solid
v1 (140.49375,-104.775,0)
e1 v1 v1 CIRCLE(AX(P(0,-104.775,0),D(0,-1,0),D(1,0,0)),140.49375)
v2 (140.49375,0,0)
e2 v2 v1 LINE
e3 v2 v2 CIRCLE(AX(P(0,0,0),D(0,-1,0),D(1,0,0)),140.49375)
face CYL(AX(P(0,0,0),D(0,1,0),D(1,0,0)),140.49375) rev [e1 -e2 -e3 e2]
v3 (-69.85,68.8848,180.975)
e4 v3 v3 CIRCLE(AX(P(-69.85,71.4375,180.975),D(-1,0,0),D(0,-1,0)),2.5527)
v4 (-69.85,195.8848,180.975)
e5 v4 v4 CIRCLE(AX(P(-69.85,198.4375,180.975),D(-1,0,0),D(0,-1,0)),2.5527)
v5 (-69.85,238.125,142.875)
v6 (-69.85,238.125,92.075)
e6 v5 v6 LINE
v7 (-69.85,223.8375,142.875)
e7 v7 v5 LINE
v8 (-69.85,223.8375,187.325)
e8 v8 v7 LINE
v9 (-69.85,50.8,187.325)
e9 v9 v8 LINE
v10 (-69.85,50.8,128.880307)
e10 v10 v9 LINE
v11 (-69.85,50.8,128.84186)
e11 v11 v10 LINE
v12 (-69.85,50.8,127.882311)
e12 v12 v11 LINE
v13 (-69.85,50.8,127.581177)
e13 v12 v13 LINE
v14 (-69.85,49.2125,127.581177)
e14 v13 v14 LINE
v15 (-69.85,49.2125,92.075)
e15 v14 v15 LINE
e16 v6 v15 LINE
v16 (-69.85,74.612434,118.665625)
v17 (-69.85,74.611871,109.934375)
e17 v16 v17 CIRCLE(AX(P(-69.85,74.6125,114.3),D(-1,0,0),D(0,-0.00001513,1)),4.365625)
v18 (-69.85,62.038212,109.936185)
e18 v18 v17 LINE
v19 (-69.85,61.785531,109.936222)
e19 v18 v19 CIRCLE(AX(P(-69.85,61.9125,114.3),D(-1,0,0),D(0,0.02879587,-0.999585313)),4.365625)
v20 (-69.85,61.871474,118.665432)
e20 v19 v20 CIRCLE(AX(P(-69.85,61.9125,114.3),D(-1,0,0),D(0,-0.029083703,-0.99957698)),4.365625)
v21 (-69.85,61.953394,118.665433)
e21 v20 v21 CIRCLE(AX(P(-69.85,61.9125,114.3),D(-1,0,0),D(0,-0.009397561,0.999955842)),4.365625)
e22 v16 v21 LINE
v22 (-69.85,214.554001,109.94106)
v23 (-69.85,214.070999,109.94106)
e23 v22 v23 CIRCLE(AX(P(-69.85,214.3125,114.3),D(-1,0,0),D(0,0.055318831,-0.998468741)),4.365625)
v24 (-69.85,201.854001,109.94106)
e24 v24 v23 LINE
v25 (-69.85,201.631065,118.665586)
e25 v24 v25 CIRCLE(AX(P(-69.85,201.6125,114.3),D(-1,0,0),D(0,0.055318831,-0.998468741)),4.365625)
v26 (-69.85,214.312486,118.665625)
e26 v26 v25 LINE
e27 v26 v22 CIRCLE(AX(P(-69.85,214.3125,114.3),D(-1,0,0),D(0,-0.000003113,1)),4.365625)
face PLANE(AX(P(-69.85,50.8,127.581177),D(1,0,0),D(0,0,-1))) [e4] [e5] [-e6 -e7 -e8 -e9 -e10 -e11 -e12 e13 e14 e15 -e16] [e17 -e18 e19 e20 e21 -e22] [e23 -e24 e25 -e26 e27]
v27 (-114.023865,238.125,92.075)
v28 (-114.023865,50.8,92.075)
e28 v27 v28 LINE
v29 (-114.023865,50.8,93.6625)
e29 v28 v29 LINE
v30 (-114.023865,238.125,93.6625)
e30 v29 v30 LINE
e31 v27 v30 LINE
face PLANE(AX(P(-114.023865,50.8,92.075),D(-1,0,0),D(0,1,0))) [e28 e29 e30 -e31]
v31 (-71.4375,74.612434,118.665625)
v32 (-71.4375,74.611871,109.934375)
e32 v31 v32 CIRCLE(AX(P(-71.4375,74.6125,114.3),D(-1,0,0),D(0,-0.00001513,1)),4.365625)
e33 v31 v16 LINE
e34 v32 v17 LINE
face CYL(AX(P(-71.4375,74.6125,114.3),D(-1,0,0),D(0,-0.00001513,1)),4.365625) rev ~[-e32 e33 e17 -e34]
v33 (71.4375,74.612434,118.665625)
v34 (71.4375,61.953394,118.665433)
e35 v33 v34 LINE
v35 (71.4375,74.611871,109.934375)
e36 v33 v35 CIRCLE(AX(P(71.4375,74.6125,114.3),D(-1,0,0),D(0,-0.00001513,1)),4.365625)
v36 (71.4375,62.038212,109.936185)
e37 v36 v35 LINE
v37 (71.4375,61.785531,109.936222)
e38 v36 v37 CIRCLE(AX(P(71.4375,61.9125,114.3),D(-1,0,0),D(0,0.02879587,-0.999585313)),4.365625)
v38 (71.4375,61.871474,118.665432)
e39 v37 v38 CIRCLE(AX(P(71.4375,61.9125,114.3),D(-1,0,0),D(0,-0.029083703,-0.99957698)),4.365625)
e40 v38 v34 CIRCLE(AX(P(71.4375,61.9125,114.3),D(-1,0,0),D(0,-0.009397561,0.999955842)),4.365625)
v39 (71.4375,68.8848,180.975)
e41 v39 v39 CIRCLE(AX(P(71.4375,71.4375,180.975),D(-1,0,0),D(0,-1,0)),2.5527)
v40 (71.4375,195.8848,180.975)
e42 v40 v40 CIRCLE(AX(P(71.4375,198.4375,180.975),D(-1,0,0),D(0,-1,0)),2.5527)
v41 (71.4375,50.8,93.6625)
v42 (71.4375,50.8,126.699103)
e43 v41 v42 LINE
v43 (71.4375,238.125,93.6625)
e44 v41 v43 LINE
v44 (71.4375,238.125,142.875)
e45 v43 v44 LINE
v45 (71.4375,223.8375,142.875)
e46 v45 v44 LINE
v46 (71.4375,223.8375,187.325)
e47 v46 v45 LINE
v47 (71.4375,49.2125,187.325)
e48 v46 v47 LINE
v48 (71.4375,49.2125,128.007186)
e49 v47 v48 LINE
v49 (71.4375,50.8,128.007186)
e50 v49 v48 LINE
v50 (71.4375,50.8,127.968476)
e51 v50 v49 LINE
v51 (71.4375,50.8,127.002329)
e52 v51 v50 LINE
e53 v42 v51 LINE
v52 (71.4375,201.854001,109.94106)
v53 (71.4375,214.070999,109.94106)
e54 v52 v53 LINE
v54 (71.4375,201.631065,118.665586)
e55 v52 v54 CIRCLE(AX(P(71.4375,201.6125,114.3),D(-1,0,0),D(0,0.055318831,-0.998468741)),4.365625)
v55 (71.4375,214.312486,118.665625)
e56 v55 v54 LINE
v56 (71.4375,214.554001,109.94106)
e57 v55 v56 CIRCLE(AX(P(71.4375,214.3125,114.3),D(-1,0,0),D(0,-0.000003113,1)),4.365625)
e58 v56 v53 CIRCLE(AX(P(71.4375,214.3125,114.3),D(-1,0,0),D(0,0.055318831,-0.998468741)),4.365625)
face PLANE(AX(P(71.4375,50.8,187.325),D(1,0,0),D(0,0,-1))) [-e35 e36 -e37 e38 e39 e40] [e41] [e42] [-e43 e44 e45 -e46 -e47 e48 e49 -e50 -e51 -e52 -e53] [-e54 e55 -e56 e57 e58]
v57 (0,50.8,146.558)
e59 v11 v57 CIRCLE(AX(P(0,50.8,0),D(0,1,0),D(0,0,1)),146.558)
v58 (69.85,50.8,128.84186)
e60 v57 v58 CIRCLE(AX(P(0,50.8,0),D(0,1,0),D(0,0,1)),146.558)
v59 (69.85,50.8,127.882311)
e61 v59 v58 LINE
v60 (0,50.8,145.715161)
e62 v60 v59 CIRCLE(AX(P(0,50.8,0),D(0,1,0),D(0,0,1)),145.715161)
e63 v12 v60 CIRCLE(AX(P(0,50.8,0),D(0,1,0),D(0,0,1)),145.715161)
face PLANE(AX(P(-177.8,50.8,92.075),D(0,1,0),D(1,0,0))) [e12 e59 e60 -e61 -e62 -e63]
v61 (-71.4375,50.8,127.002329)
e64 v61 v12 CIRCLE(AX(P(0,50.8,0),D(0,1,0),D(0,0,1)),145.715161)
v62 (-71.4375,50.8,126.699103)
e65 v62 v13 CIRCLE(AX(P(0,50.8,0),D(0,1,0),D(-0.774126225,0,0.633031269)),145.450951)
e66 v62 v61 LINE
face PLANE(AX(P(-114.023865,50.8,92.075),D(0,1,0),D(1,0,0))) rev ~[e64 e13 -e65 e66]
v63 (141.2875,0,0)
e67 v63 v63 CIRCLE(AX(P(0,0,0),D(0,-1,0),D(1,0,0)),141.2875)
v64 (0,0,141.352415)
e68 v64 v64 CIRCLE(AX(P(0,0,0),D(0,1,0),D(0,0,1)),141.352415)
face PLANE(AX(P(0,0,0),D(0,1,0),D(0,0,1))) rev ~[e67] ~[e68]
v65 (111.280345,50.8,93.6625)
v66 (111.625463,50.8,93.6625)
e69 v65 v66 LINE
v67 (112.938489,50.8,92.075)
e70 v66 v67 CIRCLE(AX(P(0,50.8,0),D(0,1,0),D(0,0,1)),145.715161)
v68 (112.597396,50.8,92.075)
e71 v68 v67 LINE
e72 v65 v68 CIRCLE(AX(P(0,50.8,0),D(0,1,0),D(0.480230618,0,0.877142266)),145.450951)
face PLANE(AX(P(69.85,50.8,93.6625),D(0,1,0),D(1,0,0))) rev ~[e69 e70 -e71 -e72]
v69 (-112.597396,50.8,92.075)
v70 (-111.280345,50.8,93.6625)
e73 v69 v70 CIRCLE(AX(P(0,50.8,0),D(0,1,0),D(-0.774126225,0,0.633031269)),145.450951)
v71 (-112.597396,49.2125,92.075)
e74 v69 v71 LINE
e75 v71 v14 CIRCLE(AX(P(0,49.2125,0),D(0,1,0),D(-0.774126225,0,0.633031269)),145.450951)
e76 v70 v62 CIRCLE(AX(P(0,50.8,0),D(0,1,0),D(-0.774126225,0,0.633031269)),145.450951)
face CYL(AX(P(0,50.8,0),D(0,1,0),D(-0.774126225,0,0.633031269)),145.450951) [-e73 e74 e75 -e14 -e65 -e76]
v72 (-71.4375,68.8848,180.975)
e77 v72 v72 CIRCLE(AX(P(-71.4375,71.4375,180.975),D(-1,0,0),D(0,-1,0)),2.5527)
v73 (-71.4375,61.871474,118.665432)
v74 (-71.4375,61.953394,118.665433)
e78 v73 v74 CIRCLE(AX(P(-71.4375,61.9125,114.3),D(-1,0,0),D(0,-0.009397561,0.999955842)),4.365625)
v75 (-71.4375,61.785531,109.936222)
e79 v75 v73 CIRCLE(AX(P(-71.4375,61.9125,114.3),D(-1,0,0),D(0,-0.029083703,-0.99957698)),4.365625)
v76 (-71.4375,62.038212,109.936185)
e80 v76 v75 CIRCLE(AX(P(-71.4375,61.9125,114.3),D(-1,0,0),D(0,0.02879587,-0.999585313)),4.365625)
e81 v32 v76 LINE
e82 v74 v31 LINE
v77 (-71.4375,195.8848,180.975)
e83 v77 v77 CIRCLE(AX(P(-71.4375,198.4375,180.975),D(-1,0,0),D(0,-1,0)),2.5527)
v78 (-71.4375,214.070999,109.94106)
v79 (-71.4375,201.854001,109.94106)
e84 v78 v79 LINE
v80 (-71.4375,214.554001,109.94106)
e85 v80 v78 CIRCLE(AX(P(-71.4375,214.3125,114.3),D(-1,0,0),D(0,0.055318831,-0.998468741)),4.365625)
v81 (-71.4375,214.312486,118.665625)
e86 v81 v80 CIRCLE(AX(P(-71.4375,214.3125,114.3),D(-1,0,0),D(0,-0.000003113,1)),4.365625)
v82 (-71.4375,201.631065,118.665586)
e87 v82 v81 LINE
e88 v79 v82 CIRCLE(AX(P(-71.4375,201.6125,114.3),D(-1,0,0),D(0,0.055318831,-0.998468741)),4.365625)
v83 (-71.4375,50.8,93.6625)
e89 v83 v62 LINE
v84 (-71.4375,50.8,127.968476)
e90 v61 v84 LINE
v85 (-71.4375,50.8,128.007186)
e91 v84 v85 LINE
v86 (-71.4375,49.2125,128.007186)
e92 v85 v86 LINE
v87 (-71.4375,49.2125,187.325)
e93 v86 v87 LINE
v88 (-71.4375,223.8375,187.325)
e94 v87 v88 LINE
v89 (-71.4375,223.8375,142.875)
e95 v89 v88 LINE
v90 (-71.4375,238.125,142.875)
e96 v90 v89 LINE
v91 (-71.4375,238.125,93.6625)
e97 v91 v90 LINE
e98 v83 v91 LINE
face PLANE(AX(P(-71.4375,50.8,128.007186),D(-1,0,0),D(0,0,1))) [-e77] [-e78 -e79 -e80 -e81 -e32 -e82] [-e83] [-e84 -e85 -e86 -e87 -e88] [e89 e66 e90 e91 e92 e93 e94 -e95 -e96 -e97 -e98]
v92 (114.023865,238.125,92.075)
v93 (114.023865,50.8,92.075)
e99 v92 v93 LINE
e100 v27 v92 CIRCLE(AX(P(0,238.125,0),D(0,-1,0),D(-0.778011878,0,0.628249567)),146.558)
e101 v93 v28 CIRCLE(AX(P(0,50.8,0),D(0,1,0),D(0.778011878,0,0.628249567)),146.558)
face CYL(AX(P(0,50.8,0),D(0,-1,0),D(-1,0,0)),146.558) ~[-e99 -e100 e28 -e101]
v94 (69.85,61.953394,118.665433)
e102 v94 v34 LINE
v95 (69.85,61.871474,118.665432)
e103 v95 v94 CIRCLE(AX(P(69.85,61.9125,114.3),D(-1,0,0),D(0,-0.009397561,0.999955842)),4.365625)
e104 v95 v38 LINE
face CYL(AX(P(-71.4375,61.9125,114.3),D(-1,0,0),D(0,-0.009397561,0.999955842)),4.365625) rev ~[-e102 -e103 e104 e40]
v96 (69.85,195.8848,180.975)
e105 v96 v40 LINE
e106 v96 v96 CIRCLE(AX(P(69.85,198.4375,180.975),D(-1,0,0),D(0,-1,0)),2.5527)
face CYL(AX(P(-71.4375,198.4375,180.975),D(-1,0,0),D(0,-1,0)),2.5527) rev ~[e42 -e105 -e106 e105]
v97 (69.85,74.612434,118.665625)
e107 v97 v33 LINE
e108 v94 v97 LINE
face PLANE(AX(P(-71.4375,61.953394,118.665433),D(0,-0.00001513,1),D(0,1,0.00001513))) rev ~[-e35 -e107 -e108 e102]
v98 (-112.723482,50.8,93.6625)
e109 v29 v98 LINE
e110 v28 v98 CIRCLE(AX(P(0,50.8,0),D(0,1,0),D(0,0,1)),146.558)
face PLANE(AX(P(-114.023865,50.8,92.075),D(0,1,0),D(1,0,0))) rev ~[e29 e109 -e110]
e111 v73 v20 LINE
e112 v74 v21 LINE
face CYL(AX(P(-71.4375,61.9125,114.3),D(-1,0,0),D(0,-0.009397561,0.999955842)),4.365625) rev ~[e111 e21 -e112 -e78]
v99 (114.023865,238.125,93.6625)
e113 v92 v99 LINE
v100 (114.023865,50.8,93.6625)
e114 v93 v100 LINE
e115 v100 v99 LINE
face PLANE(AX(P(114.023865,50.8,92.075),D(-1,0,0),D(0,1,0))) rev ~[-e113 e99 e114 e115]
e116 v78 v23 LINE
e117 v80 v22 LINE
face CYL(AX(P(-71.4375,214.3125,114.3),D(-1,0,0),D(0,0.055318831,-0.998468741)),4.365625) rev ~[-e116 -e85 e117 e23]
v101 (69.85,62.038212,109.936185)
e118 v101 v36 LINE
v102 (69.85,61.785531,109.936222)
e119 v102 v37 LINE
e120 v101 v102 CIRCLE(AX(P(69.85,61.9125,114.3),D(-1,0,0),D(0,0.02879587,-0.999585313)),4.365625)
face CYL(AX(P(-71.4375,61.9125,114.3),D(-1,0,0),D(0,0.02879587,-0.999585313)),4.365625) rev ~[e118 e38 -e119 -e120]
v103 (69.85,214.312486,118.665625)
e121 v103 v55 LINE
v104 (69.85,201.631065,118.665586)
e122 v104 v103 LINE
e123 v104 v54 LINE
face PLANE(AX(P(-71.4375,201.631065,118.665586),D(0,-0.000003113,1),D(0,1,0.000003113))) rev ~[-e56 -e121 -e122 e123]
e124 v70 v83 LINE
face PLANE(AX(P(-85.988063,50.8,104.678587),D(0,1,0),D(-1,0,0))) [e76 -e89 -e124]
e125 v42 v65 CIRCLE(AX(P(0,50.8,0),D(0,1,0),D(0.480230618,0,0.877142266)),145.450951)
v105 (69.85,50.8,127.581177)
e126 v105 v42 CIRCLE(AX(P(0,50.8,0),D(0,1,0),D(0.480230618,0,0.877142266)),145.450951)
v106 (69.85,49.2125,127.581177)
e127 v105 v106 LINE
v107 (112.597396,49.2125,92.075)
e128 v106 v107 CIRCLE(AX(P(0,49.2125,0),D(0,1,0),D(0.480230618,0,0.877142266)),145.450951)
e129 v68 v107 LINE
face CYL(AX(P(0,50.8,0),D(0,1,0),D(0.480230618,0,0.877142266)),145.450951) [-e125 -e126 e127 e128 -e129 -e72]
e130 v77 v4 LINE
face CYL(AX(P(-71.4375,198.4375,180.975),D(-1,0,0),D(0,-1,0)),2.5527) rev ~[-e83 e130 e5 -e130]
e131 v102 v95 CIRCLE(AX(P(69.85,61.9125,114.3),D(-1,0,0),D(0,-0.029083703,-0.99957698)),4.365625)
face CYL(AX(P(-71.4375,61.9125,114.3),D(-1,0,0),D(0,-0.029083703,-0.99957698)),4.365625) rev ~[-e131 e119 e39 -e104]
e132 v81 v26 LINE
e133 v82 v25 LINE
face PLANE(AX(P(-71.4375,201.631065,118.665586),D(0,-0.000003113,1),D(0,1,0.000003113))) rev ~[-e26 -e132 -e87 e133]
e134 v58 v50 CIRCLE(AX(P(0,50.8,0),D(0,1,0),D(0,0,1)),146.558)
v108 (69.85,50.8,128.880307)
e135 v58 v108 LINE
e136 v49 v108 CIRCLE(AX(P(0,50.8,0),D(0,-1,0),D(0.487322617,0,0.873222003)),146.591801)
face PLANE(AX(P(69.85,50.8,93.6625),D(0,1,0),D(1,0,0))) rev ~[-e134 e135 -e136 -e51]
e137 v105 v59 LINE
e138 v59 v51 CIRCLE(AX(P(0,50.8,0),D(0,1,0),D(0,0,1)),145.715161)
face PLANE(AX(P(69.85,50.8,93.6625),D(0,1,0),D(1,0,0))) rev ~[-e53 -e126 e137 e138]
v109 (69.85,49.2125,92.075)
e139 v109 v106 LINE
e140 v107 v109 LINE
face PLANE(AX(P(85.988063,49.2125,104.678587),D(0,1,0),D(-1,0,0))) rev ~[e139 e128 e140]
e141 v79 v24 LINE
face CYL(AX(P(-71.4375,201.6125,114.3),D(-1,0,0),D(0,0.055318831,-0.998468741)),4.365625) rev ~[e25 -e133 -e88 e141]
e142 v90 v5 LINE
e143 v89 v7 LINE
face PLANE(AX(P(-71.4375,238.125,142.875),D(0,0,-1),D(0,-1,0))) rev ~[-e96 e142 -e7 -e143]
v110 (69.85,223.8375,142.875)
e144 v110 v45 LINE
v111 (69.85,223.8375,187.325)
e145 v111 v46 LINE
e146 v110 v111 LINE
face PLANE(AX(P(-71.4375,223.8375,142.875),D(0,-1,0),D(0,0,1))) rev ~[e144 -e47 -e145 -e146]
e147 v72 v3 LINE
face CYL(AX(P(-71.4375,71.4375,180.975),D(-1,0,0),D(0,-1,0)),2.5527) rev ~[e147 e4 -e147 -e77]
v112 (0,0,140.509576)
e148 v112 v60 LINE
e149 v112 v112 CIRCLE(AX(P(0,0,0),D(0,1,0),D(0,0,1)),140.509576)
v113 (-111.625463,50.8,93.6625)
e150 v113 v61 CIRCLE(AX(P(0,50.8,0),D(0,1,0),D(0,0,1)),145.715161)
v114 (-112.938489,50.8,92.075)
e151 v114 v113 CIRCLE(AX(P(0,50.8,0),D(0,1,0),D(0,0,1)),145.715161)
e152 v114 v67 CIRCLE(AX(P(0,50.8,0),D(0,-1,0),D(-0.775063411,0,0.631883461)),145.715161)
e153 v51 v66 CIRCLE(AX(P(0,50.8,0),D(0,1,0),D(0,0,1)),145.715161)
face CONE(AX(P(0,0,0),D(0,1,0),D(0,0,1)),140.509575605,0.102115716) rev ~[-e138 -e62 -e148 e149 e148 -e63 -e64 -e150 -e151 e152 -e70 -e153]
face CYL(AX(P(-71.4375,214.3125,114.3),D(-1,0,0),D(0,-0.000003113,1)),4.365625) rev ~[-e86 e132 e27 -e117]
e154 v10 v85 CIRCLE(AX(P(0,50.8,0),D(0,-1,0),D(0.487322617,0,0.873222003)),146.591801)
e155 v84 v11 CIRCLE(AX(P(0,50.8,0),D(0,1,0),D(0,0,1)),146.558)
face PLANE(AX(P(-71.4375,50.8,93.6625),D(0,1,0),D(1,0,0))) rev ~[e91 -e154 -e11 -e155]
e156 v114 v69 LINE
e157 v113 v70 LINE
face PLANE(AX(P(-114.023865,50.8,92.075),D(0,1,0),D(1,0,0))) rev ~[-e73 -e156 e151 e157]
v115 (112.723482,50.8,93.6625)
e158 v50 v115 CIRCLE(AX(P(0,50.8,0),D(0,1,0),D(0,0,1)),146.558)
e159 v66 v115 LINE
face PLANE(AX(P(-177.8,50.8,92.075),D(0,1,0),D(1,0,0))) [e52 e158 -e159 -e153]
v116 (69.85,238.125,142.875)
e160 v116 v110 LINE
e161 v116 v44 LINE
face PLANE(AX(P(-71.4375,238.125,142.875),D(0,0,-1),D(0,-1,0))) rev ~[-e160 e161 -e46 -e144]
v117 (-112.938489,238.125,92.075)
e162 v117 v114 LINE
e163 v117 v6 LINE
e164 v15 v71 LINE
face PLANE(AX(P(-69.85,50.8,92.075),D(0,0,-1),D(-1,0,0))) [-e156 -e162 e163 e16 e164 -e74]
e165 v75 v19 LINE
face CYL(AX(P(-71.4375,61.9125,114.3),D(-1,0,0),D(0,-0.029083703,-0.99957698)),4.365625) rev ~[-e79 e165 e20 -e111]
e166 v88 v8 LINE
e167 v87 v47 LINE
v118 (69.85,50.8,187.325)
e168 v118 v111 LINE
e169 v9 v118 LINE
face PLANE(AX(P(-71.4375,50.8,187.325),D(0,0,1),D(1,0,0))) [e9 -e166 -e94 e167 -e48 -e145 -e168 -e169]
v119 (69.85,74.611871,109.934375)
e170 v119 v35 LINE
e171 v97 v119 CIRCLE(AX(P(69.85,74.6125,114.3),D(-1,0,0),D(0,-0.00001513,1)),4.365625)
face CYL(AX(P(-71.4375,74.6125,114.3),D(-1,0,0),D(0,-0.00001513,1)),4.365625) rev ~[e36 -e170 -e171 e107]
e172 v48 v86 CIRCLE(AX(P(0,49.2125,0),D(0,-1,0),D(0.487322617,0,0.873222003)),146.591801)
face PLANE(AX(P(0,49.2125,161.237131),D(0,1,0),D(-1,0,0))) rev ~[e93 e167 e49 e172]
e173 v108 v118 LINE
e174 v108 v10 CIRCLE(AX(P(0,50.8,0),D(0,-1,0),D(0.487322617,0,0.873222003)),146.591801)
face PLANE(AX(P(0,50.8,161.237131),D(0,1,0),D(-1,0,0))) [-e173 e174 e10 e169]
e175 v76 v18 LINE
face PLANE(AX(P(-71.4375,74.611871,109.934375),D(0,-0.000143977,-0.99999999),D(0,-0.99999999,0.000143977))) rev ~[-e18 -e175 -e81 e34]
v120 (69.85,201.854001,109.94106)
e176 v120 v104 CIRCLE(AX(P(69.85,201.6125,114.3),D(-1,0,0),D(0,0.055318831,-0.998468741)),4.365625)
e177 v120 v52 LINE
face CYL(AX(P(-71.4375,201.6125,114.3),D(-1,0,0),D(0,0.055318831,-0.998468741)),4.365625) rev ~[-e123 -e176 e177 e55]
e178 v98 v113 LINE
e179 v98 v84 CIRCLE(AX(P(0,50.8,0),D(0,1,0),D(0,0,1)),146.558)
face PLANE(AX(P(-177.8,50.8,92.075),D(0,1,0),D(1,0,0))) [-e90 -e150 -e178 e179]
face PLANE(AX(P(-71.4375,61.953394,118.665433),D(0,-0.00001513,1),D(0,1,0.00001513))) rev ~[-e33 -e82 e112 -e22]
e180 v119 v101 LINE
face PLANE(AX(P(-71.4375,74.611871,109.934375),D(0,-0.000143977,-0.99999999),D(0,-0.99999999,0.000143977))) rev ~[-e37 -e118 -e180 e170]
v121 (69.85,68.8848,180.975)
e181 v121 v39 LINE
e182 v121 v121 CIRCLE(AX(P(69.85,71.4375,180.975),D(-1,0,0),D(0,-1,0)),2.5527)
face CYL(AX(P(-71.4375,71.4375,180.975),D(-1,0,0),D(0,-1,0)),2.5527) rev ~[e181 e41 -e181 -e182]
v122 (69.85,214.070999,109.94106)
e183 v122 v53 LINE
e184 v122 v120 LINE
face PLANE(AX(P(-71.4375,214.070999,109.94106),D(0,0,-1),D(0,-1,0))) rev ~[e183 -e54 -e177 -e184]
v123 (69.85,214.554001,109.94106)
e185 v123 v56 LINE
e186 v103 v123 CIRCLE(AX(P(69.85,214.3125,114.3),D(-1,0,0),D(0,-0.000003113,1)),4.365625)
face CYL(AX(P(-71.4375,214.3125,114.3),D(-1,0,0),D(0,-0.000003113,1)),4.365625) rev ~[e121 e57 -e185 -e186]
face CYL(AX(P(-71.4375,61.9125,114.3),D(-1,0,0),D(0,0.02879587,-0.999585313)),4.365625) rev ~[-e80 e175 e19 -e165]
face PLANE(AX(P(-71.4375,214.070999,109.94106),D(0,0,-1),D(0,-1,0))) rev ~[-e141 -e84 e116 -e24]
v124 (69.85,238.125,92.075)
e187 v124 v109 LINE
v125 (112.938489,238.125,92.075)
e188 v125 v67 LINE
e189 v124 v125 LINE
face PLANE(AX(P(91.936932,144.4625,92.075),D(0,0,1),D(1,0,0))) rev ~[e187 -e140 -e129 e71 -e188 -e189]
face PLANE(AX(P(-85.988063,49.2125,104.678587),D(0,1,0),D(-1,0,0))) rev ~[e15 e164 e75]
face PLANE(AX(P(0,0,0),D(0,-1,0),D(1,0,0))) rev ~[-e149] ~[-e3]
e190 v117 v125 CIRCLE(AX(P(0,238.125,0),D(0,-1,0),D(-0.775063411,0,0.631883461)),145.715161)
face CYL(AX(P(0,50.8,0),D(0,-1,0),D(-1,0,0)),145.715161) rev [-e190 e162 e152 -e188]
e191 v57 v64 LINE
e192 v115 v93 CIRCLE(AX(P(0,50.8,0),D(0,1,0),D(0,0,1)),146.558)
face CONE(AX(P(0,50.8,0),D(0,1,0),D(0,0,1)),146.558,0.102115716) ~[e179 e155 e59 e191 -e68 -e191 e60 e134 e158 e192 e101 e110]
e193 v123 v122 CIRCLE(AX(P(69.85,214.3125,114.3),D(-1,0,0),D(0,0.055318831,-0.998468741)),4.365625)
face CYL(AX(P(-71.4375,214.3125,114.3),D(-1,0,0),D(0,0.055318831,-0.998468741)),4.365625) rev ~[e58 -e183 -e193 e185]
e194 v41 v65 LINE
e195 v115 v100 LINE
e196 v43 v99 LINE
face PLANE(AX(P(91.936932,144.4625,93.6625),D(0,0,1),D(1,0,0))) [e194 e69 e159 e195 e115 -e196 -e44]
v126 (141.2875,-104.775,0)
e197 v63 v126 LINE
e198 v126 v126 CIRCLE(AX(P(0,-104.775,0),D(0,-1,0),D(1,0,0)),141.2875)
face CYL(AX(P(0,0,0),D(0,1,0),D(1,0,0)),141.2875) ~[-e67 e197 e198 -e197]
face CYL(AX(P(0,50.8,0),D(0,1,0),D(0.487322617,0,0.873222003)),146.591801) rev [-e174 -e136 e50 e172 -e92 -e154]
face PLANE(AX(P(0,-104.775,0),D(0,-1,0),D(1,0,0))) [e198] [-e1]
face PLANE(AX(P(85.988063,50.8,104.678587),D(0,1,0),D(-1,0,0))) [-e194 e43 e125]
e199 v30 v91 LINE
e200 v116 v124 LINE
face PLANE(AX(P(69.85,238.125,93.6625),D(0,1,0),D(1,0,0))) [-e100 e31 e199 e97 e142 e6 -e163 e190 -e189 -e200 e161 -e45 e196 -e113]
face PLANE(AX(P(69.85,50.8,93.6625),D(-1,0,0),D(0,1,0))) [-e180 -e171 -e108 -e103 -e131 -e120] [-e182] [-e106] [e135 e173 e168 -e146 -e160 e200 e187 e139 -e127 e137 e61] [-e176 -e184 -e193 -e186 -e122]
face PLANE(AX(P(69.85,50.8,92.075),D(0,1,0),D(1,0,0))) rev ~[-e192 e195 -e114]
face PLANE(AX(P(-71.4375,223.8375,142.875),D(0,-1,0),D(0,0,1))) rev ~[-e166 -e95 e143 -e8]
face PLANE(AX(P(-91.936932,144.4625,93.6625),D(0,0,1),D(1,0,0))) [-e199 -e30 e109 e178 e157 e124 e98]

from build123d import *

# Parameters (mm, degrees)
F0_R      = 141.2875
F0_R_2    = 140.49375
F1_DEPTH  = 104.775
F6_R      = 146.558
F6_R_2    = 145.7151605206
F7_DEPTH  = 187.325
F8_W      = 355.6
F8_H      = 187.325
F9_DEPTH  = 54.484
F10_W     = 44.1738647784
F10_H     = 187.325
F11_DEPTH = 1.5875
F12_W     = 1.5875
F12_H     = 187.325
F13_DEPTH = 93.6625
F15_DEPTH = 1.5875
F17_DEPTH = 1.5875
F18_W     = 14.2875
F18_H     = 44.45
F19_DEPTH = 217.9965
F20_R     = 2.5527
F21_DEPTH = 217.9965


with BuildPart() as f1:
    # F0 (on Front) → F1 (new body)
    with BuildSketch(Plane.XZ):
        Circle(F0_R)
        Circle(F0_R_2, mode=Mode.SUBTRACT)
    extrude(amount=F1_DEPTH)

    # F3 (on Right) → F4 (revolve)
    with BuildSketch(Plane.YZ):
        Polygon((0, 141.3524150848), (0, 140.5095756054), (50.8, 145.7151605206), (50.8, 146.558), align=None)
    revolve(axis=Axis((0, 43.5656532645, 0), (0, 1, 0)))

    # F6 (on face) → F7 (join)
    with BuildSketch(Plane(origin=(0, 50.8, 0), x_dir=(-1, 0, 0), z_dir=(0, 1, 0))):
        Circle(F6_R)
        Circle(F6_R_2, mode=Mode.SUBTRACT)
    extrude(amount=F7_DEPTH)

    # F8 (on offset) → F9 (cut, through all)
    with BuildSketch(Plane.XY.offset(92.075)):
        with Locations((0, 144.4625)):
            Rectangle(F8_W, F8_H)
    extrude(amount=F9_DEPTH, mode=Mode.SUBTRACT)

    # F10 (on offset) → F11 (join)
    with BuildSketch(Plane.XY.offset(92.075)):
        with Locations((91.9369323892, 144.4625)):
            Rectangle(F10_W, F10_H)
        with Locations((-91.9369323892, 144.4625)):
            Rectangle(F10_W, F10_H)
    extrude(amount=F11_DEPTH)

    # F12 (on face) → F13 (join)
    with BuildSketch(Plane.XY.offset(93.6625)):
        with Locations((70.64375, 144.4625)):
            Rectangle(F12_W, F12_H)
        with Locations((-70.64375, 144.4625)):
            Rectangle(F12_W, F12_H)
    extrude(amount=F13_DEPTH)

    # F14 (on face) → F15 (join)
    with BuildSketch(Plane(origin=(0, 50.8, 0), x_dir=(-1, 0, 0), z_dir=(0, 1, 0))):
        with BuildLine():
            Line((69.85, 92.075), (112.5973956514, 92.075))
            ThreePointArc((112.5973956514, 92.075), (92.9351127931, 111.8885335618), (69.85, 127.5811766385))
            Line((69.85, 127.5811766385), (69.85, 92.075))
        make_face()
        with BuildLine():
            ThreePointArc((-69.85, 127.5811766385), (-92.9351127931, 111.8885335618), (-112.5973956514, 92.075))
            Line((-112.5973956514, 92.075), (-69.85, 92.075))
            Line((-69.85, 92.075), (-69.85, 127.5811766385))
        make_face()
    extrude(amount=-F15_DEPTH)

    # F16 (on face) → F17 (join)
    with BuildSketch(Plane(origin=(0, 50.8, 0), x_dir=(-1, 0, 0), z_dir=(0, 1, 0))):
        with BuildLine():
            ThreePointArc((-71.4375, 128.0071860315), (0, 146.5918008687), (71.4375, 128.0071860315))
            Line((71.4375, 128.0071860315), (71.4375, 187.325))
            Line((71.4375, 187.325), (-71.4375, 187.325))
            Line((-71.4375, 187.325), (-71.4375, 128.0071860315))
        make_face()
    extrude(amount=-F17_DEPTH)

    # F18 (on face) → F19 (cut, through all)
    with BuildSketch(Plane(origin=(-71.4375, 0, 0), x_dir=(0, -1, 0), z_dir=(-1, 0, 0))):
        with Locations((-230.98125, 165.1)):
            Rectangle(F18_W, F18_H)
    extrude(amount=-F19_DEPTH, mode=Mode.SUBTRACT)

    # F20 (on face) → F21 (cut, through all)
    with BuildSketch(Plane(origin=(-71.4375, 0, 0), x_dir=(0, -1, 0), z_dir=(-1, 0, 0))):
        with BuildLine():
            Line((-61.7855314592, 109.9362217483), (-62.0382119647, 109.936185368))
            ThreePointArc((-62.0382119647, 109.936185368), (-61.9118714487, 109.9343750452), (-61.7855314592, 109.9362217483))
        make_face()
        with BuildLine():
            Line((-74.6118714487, 109.9343750452), (-62.0382119647, 109.936185368))
            Line((-62.0382119647, 109.936185368), (-61.7855314592, 109.9362217483))
            ThreePointArc((-61.7855314592, 109.9362217483), (-57.5470865675, 114.3429791138), (-61.8714737728, 118.6654322225))
            Line((-61.8714737728, 118.6654322225), (-61.9533941249, 118.665433462))
            Line((-61.9533941249, 118.665433462), (-74.6124339459, 118.6656249995))
            ThreePointArc((-74.6124339459, 118.6656249995), (-78.9781249909, 114.2997187514), (-74.6118714487, 109.9343750452))
        make_face()
        with BuildLine():
            Line((-61.9533941249, 118.665433462), (-61.8714737728, 118.6654322225))
            ThreePointArc((-61.8714737728, 118.6654322225), (-61.9124339459, 118.6656249995), (-61.9533941249, 118.665433462))
        make_face()
        with BuildLine():
            Line((-214.0709987284, 109.9410599022), (-201.8540012716, 109.9410599022))
            ThreePointArc((-201.8540012716, 109.9410599022), (-197.2482995581, 114.188482543), (-201.6310653813, 118.665585524))
            Line((-201.6310653813, 118.665585524), (-214.3124864102, 118.665625))
            ThreePointArc((-214.3124864102, 118.665625), (-218.6764532664, 114.4208036798), (-214.5540012716, 109.9410599022))
            Line((-214.5540012716, 109.9410599022), (-214.0709987284, 109.9410599022))
        make_face()
        with BuildLine():
            ThreePointArc((-214.5540012716, 109.9410599022), (-214.3125, 109.934375), (-214.0709987284, 109.9410599022))
            Line((-214.0709987284, 109.9410599022), (-214.5540012716, 109.9410599022))
        make_face()
        with Locations((-71.4375, 180.975)):
            Circle(F20_R)
        with Locations((-198.4375, 180.975)):
            Circle(F20_R)
    extrude(amount=-F21_DEPTH, mode=Mode.SUBTRACT)


solid = f1.part
